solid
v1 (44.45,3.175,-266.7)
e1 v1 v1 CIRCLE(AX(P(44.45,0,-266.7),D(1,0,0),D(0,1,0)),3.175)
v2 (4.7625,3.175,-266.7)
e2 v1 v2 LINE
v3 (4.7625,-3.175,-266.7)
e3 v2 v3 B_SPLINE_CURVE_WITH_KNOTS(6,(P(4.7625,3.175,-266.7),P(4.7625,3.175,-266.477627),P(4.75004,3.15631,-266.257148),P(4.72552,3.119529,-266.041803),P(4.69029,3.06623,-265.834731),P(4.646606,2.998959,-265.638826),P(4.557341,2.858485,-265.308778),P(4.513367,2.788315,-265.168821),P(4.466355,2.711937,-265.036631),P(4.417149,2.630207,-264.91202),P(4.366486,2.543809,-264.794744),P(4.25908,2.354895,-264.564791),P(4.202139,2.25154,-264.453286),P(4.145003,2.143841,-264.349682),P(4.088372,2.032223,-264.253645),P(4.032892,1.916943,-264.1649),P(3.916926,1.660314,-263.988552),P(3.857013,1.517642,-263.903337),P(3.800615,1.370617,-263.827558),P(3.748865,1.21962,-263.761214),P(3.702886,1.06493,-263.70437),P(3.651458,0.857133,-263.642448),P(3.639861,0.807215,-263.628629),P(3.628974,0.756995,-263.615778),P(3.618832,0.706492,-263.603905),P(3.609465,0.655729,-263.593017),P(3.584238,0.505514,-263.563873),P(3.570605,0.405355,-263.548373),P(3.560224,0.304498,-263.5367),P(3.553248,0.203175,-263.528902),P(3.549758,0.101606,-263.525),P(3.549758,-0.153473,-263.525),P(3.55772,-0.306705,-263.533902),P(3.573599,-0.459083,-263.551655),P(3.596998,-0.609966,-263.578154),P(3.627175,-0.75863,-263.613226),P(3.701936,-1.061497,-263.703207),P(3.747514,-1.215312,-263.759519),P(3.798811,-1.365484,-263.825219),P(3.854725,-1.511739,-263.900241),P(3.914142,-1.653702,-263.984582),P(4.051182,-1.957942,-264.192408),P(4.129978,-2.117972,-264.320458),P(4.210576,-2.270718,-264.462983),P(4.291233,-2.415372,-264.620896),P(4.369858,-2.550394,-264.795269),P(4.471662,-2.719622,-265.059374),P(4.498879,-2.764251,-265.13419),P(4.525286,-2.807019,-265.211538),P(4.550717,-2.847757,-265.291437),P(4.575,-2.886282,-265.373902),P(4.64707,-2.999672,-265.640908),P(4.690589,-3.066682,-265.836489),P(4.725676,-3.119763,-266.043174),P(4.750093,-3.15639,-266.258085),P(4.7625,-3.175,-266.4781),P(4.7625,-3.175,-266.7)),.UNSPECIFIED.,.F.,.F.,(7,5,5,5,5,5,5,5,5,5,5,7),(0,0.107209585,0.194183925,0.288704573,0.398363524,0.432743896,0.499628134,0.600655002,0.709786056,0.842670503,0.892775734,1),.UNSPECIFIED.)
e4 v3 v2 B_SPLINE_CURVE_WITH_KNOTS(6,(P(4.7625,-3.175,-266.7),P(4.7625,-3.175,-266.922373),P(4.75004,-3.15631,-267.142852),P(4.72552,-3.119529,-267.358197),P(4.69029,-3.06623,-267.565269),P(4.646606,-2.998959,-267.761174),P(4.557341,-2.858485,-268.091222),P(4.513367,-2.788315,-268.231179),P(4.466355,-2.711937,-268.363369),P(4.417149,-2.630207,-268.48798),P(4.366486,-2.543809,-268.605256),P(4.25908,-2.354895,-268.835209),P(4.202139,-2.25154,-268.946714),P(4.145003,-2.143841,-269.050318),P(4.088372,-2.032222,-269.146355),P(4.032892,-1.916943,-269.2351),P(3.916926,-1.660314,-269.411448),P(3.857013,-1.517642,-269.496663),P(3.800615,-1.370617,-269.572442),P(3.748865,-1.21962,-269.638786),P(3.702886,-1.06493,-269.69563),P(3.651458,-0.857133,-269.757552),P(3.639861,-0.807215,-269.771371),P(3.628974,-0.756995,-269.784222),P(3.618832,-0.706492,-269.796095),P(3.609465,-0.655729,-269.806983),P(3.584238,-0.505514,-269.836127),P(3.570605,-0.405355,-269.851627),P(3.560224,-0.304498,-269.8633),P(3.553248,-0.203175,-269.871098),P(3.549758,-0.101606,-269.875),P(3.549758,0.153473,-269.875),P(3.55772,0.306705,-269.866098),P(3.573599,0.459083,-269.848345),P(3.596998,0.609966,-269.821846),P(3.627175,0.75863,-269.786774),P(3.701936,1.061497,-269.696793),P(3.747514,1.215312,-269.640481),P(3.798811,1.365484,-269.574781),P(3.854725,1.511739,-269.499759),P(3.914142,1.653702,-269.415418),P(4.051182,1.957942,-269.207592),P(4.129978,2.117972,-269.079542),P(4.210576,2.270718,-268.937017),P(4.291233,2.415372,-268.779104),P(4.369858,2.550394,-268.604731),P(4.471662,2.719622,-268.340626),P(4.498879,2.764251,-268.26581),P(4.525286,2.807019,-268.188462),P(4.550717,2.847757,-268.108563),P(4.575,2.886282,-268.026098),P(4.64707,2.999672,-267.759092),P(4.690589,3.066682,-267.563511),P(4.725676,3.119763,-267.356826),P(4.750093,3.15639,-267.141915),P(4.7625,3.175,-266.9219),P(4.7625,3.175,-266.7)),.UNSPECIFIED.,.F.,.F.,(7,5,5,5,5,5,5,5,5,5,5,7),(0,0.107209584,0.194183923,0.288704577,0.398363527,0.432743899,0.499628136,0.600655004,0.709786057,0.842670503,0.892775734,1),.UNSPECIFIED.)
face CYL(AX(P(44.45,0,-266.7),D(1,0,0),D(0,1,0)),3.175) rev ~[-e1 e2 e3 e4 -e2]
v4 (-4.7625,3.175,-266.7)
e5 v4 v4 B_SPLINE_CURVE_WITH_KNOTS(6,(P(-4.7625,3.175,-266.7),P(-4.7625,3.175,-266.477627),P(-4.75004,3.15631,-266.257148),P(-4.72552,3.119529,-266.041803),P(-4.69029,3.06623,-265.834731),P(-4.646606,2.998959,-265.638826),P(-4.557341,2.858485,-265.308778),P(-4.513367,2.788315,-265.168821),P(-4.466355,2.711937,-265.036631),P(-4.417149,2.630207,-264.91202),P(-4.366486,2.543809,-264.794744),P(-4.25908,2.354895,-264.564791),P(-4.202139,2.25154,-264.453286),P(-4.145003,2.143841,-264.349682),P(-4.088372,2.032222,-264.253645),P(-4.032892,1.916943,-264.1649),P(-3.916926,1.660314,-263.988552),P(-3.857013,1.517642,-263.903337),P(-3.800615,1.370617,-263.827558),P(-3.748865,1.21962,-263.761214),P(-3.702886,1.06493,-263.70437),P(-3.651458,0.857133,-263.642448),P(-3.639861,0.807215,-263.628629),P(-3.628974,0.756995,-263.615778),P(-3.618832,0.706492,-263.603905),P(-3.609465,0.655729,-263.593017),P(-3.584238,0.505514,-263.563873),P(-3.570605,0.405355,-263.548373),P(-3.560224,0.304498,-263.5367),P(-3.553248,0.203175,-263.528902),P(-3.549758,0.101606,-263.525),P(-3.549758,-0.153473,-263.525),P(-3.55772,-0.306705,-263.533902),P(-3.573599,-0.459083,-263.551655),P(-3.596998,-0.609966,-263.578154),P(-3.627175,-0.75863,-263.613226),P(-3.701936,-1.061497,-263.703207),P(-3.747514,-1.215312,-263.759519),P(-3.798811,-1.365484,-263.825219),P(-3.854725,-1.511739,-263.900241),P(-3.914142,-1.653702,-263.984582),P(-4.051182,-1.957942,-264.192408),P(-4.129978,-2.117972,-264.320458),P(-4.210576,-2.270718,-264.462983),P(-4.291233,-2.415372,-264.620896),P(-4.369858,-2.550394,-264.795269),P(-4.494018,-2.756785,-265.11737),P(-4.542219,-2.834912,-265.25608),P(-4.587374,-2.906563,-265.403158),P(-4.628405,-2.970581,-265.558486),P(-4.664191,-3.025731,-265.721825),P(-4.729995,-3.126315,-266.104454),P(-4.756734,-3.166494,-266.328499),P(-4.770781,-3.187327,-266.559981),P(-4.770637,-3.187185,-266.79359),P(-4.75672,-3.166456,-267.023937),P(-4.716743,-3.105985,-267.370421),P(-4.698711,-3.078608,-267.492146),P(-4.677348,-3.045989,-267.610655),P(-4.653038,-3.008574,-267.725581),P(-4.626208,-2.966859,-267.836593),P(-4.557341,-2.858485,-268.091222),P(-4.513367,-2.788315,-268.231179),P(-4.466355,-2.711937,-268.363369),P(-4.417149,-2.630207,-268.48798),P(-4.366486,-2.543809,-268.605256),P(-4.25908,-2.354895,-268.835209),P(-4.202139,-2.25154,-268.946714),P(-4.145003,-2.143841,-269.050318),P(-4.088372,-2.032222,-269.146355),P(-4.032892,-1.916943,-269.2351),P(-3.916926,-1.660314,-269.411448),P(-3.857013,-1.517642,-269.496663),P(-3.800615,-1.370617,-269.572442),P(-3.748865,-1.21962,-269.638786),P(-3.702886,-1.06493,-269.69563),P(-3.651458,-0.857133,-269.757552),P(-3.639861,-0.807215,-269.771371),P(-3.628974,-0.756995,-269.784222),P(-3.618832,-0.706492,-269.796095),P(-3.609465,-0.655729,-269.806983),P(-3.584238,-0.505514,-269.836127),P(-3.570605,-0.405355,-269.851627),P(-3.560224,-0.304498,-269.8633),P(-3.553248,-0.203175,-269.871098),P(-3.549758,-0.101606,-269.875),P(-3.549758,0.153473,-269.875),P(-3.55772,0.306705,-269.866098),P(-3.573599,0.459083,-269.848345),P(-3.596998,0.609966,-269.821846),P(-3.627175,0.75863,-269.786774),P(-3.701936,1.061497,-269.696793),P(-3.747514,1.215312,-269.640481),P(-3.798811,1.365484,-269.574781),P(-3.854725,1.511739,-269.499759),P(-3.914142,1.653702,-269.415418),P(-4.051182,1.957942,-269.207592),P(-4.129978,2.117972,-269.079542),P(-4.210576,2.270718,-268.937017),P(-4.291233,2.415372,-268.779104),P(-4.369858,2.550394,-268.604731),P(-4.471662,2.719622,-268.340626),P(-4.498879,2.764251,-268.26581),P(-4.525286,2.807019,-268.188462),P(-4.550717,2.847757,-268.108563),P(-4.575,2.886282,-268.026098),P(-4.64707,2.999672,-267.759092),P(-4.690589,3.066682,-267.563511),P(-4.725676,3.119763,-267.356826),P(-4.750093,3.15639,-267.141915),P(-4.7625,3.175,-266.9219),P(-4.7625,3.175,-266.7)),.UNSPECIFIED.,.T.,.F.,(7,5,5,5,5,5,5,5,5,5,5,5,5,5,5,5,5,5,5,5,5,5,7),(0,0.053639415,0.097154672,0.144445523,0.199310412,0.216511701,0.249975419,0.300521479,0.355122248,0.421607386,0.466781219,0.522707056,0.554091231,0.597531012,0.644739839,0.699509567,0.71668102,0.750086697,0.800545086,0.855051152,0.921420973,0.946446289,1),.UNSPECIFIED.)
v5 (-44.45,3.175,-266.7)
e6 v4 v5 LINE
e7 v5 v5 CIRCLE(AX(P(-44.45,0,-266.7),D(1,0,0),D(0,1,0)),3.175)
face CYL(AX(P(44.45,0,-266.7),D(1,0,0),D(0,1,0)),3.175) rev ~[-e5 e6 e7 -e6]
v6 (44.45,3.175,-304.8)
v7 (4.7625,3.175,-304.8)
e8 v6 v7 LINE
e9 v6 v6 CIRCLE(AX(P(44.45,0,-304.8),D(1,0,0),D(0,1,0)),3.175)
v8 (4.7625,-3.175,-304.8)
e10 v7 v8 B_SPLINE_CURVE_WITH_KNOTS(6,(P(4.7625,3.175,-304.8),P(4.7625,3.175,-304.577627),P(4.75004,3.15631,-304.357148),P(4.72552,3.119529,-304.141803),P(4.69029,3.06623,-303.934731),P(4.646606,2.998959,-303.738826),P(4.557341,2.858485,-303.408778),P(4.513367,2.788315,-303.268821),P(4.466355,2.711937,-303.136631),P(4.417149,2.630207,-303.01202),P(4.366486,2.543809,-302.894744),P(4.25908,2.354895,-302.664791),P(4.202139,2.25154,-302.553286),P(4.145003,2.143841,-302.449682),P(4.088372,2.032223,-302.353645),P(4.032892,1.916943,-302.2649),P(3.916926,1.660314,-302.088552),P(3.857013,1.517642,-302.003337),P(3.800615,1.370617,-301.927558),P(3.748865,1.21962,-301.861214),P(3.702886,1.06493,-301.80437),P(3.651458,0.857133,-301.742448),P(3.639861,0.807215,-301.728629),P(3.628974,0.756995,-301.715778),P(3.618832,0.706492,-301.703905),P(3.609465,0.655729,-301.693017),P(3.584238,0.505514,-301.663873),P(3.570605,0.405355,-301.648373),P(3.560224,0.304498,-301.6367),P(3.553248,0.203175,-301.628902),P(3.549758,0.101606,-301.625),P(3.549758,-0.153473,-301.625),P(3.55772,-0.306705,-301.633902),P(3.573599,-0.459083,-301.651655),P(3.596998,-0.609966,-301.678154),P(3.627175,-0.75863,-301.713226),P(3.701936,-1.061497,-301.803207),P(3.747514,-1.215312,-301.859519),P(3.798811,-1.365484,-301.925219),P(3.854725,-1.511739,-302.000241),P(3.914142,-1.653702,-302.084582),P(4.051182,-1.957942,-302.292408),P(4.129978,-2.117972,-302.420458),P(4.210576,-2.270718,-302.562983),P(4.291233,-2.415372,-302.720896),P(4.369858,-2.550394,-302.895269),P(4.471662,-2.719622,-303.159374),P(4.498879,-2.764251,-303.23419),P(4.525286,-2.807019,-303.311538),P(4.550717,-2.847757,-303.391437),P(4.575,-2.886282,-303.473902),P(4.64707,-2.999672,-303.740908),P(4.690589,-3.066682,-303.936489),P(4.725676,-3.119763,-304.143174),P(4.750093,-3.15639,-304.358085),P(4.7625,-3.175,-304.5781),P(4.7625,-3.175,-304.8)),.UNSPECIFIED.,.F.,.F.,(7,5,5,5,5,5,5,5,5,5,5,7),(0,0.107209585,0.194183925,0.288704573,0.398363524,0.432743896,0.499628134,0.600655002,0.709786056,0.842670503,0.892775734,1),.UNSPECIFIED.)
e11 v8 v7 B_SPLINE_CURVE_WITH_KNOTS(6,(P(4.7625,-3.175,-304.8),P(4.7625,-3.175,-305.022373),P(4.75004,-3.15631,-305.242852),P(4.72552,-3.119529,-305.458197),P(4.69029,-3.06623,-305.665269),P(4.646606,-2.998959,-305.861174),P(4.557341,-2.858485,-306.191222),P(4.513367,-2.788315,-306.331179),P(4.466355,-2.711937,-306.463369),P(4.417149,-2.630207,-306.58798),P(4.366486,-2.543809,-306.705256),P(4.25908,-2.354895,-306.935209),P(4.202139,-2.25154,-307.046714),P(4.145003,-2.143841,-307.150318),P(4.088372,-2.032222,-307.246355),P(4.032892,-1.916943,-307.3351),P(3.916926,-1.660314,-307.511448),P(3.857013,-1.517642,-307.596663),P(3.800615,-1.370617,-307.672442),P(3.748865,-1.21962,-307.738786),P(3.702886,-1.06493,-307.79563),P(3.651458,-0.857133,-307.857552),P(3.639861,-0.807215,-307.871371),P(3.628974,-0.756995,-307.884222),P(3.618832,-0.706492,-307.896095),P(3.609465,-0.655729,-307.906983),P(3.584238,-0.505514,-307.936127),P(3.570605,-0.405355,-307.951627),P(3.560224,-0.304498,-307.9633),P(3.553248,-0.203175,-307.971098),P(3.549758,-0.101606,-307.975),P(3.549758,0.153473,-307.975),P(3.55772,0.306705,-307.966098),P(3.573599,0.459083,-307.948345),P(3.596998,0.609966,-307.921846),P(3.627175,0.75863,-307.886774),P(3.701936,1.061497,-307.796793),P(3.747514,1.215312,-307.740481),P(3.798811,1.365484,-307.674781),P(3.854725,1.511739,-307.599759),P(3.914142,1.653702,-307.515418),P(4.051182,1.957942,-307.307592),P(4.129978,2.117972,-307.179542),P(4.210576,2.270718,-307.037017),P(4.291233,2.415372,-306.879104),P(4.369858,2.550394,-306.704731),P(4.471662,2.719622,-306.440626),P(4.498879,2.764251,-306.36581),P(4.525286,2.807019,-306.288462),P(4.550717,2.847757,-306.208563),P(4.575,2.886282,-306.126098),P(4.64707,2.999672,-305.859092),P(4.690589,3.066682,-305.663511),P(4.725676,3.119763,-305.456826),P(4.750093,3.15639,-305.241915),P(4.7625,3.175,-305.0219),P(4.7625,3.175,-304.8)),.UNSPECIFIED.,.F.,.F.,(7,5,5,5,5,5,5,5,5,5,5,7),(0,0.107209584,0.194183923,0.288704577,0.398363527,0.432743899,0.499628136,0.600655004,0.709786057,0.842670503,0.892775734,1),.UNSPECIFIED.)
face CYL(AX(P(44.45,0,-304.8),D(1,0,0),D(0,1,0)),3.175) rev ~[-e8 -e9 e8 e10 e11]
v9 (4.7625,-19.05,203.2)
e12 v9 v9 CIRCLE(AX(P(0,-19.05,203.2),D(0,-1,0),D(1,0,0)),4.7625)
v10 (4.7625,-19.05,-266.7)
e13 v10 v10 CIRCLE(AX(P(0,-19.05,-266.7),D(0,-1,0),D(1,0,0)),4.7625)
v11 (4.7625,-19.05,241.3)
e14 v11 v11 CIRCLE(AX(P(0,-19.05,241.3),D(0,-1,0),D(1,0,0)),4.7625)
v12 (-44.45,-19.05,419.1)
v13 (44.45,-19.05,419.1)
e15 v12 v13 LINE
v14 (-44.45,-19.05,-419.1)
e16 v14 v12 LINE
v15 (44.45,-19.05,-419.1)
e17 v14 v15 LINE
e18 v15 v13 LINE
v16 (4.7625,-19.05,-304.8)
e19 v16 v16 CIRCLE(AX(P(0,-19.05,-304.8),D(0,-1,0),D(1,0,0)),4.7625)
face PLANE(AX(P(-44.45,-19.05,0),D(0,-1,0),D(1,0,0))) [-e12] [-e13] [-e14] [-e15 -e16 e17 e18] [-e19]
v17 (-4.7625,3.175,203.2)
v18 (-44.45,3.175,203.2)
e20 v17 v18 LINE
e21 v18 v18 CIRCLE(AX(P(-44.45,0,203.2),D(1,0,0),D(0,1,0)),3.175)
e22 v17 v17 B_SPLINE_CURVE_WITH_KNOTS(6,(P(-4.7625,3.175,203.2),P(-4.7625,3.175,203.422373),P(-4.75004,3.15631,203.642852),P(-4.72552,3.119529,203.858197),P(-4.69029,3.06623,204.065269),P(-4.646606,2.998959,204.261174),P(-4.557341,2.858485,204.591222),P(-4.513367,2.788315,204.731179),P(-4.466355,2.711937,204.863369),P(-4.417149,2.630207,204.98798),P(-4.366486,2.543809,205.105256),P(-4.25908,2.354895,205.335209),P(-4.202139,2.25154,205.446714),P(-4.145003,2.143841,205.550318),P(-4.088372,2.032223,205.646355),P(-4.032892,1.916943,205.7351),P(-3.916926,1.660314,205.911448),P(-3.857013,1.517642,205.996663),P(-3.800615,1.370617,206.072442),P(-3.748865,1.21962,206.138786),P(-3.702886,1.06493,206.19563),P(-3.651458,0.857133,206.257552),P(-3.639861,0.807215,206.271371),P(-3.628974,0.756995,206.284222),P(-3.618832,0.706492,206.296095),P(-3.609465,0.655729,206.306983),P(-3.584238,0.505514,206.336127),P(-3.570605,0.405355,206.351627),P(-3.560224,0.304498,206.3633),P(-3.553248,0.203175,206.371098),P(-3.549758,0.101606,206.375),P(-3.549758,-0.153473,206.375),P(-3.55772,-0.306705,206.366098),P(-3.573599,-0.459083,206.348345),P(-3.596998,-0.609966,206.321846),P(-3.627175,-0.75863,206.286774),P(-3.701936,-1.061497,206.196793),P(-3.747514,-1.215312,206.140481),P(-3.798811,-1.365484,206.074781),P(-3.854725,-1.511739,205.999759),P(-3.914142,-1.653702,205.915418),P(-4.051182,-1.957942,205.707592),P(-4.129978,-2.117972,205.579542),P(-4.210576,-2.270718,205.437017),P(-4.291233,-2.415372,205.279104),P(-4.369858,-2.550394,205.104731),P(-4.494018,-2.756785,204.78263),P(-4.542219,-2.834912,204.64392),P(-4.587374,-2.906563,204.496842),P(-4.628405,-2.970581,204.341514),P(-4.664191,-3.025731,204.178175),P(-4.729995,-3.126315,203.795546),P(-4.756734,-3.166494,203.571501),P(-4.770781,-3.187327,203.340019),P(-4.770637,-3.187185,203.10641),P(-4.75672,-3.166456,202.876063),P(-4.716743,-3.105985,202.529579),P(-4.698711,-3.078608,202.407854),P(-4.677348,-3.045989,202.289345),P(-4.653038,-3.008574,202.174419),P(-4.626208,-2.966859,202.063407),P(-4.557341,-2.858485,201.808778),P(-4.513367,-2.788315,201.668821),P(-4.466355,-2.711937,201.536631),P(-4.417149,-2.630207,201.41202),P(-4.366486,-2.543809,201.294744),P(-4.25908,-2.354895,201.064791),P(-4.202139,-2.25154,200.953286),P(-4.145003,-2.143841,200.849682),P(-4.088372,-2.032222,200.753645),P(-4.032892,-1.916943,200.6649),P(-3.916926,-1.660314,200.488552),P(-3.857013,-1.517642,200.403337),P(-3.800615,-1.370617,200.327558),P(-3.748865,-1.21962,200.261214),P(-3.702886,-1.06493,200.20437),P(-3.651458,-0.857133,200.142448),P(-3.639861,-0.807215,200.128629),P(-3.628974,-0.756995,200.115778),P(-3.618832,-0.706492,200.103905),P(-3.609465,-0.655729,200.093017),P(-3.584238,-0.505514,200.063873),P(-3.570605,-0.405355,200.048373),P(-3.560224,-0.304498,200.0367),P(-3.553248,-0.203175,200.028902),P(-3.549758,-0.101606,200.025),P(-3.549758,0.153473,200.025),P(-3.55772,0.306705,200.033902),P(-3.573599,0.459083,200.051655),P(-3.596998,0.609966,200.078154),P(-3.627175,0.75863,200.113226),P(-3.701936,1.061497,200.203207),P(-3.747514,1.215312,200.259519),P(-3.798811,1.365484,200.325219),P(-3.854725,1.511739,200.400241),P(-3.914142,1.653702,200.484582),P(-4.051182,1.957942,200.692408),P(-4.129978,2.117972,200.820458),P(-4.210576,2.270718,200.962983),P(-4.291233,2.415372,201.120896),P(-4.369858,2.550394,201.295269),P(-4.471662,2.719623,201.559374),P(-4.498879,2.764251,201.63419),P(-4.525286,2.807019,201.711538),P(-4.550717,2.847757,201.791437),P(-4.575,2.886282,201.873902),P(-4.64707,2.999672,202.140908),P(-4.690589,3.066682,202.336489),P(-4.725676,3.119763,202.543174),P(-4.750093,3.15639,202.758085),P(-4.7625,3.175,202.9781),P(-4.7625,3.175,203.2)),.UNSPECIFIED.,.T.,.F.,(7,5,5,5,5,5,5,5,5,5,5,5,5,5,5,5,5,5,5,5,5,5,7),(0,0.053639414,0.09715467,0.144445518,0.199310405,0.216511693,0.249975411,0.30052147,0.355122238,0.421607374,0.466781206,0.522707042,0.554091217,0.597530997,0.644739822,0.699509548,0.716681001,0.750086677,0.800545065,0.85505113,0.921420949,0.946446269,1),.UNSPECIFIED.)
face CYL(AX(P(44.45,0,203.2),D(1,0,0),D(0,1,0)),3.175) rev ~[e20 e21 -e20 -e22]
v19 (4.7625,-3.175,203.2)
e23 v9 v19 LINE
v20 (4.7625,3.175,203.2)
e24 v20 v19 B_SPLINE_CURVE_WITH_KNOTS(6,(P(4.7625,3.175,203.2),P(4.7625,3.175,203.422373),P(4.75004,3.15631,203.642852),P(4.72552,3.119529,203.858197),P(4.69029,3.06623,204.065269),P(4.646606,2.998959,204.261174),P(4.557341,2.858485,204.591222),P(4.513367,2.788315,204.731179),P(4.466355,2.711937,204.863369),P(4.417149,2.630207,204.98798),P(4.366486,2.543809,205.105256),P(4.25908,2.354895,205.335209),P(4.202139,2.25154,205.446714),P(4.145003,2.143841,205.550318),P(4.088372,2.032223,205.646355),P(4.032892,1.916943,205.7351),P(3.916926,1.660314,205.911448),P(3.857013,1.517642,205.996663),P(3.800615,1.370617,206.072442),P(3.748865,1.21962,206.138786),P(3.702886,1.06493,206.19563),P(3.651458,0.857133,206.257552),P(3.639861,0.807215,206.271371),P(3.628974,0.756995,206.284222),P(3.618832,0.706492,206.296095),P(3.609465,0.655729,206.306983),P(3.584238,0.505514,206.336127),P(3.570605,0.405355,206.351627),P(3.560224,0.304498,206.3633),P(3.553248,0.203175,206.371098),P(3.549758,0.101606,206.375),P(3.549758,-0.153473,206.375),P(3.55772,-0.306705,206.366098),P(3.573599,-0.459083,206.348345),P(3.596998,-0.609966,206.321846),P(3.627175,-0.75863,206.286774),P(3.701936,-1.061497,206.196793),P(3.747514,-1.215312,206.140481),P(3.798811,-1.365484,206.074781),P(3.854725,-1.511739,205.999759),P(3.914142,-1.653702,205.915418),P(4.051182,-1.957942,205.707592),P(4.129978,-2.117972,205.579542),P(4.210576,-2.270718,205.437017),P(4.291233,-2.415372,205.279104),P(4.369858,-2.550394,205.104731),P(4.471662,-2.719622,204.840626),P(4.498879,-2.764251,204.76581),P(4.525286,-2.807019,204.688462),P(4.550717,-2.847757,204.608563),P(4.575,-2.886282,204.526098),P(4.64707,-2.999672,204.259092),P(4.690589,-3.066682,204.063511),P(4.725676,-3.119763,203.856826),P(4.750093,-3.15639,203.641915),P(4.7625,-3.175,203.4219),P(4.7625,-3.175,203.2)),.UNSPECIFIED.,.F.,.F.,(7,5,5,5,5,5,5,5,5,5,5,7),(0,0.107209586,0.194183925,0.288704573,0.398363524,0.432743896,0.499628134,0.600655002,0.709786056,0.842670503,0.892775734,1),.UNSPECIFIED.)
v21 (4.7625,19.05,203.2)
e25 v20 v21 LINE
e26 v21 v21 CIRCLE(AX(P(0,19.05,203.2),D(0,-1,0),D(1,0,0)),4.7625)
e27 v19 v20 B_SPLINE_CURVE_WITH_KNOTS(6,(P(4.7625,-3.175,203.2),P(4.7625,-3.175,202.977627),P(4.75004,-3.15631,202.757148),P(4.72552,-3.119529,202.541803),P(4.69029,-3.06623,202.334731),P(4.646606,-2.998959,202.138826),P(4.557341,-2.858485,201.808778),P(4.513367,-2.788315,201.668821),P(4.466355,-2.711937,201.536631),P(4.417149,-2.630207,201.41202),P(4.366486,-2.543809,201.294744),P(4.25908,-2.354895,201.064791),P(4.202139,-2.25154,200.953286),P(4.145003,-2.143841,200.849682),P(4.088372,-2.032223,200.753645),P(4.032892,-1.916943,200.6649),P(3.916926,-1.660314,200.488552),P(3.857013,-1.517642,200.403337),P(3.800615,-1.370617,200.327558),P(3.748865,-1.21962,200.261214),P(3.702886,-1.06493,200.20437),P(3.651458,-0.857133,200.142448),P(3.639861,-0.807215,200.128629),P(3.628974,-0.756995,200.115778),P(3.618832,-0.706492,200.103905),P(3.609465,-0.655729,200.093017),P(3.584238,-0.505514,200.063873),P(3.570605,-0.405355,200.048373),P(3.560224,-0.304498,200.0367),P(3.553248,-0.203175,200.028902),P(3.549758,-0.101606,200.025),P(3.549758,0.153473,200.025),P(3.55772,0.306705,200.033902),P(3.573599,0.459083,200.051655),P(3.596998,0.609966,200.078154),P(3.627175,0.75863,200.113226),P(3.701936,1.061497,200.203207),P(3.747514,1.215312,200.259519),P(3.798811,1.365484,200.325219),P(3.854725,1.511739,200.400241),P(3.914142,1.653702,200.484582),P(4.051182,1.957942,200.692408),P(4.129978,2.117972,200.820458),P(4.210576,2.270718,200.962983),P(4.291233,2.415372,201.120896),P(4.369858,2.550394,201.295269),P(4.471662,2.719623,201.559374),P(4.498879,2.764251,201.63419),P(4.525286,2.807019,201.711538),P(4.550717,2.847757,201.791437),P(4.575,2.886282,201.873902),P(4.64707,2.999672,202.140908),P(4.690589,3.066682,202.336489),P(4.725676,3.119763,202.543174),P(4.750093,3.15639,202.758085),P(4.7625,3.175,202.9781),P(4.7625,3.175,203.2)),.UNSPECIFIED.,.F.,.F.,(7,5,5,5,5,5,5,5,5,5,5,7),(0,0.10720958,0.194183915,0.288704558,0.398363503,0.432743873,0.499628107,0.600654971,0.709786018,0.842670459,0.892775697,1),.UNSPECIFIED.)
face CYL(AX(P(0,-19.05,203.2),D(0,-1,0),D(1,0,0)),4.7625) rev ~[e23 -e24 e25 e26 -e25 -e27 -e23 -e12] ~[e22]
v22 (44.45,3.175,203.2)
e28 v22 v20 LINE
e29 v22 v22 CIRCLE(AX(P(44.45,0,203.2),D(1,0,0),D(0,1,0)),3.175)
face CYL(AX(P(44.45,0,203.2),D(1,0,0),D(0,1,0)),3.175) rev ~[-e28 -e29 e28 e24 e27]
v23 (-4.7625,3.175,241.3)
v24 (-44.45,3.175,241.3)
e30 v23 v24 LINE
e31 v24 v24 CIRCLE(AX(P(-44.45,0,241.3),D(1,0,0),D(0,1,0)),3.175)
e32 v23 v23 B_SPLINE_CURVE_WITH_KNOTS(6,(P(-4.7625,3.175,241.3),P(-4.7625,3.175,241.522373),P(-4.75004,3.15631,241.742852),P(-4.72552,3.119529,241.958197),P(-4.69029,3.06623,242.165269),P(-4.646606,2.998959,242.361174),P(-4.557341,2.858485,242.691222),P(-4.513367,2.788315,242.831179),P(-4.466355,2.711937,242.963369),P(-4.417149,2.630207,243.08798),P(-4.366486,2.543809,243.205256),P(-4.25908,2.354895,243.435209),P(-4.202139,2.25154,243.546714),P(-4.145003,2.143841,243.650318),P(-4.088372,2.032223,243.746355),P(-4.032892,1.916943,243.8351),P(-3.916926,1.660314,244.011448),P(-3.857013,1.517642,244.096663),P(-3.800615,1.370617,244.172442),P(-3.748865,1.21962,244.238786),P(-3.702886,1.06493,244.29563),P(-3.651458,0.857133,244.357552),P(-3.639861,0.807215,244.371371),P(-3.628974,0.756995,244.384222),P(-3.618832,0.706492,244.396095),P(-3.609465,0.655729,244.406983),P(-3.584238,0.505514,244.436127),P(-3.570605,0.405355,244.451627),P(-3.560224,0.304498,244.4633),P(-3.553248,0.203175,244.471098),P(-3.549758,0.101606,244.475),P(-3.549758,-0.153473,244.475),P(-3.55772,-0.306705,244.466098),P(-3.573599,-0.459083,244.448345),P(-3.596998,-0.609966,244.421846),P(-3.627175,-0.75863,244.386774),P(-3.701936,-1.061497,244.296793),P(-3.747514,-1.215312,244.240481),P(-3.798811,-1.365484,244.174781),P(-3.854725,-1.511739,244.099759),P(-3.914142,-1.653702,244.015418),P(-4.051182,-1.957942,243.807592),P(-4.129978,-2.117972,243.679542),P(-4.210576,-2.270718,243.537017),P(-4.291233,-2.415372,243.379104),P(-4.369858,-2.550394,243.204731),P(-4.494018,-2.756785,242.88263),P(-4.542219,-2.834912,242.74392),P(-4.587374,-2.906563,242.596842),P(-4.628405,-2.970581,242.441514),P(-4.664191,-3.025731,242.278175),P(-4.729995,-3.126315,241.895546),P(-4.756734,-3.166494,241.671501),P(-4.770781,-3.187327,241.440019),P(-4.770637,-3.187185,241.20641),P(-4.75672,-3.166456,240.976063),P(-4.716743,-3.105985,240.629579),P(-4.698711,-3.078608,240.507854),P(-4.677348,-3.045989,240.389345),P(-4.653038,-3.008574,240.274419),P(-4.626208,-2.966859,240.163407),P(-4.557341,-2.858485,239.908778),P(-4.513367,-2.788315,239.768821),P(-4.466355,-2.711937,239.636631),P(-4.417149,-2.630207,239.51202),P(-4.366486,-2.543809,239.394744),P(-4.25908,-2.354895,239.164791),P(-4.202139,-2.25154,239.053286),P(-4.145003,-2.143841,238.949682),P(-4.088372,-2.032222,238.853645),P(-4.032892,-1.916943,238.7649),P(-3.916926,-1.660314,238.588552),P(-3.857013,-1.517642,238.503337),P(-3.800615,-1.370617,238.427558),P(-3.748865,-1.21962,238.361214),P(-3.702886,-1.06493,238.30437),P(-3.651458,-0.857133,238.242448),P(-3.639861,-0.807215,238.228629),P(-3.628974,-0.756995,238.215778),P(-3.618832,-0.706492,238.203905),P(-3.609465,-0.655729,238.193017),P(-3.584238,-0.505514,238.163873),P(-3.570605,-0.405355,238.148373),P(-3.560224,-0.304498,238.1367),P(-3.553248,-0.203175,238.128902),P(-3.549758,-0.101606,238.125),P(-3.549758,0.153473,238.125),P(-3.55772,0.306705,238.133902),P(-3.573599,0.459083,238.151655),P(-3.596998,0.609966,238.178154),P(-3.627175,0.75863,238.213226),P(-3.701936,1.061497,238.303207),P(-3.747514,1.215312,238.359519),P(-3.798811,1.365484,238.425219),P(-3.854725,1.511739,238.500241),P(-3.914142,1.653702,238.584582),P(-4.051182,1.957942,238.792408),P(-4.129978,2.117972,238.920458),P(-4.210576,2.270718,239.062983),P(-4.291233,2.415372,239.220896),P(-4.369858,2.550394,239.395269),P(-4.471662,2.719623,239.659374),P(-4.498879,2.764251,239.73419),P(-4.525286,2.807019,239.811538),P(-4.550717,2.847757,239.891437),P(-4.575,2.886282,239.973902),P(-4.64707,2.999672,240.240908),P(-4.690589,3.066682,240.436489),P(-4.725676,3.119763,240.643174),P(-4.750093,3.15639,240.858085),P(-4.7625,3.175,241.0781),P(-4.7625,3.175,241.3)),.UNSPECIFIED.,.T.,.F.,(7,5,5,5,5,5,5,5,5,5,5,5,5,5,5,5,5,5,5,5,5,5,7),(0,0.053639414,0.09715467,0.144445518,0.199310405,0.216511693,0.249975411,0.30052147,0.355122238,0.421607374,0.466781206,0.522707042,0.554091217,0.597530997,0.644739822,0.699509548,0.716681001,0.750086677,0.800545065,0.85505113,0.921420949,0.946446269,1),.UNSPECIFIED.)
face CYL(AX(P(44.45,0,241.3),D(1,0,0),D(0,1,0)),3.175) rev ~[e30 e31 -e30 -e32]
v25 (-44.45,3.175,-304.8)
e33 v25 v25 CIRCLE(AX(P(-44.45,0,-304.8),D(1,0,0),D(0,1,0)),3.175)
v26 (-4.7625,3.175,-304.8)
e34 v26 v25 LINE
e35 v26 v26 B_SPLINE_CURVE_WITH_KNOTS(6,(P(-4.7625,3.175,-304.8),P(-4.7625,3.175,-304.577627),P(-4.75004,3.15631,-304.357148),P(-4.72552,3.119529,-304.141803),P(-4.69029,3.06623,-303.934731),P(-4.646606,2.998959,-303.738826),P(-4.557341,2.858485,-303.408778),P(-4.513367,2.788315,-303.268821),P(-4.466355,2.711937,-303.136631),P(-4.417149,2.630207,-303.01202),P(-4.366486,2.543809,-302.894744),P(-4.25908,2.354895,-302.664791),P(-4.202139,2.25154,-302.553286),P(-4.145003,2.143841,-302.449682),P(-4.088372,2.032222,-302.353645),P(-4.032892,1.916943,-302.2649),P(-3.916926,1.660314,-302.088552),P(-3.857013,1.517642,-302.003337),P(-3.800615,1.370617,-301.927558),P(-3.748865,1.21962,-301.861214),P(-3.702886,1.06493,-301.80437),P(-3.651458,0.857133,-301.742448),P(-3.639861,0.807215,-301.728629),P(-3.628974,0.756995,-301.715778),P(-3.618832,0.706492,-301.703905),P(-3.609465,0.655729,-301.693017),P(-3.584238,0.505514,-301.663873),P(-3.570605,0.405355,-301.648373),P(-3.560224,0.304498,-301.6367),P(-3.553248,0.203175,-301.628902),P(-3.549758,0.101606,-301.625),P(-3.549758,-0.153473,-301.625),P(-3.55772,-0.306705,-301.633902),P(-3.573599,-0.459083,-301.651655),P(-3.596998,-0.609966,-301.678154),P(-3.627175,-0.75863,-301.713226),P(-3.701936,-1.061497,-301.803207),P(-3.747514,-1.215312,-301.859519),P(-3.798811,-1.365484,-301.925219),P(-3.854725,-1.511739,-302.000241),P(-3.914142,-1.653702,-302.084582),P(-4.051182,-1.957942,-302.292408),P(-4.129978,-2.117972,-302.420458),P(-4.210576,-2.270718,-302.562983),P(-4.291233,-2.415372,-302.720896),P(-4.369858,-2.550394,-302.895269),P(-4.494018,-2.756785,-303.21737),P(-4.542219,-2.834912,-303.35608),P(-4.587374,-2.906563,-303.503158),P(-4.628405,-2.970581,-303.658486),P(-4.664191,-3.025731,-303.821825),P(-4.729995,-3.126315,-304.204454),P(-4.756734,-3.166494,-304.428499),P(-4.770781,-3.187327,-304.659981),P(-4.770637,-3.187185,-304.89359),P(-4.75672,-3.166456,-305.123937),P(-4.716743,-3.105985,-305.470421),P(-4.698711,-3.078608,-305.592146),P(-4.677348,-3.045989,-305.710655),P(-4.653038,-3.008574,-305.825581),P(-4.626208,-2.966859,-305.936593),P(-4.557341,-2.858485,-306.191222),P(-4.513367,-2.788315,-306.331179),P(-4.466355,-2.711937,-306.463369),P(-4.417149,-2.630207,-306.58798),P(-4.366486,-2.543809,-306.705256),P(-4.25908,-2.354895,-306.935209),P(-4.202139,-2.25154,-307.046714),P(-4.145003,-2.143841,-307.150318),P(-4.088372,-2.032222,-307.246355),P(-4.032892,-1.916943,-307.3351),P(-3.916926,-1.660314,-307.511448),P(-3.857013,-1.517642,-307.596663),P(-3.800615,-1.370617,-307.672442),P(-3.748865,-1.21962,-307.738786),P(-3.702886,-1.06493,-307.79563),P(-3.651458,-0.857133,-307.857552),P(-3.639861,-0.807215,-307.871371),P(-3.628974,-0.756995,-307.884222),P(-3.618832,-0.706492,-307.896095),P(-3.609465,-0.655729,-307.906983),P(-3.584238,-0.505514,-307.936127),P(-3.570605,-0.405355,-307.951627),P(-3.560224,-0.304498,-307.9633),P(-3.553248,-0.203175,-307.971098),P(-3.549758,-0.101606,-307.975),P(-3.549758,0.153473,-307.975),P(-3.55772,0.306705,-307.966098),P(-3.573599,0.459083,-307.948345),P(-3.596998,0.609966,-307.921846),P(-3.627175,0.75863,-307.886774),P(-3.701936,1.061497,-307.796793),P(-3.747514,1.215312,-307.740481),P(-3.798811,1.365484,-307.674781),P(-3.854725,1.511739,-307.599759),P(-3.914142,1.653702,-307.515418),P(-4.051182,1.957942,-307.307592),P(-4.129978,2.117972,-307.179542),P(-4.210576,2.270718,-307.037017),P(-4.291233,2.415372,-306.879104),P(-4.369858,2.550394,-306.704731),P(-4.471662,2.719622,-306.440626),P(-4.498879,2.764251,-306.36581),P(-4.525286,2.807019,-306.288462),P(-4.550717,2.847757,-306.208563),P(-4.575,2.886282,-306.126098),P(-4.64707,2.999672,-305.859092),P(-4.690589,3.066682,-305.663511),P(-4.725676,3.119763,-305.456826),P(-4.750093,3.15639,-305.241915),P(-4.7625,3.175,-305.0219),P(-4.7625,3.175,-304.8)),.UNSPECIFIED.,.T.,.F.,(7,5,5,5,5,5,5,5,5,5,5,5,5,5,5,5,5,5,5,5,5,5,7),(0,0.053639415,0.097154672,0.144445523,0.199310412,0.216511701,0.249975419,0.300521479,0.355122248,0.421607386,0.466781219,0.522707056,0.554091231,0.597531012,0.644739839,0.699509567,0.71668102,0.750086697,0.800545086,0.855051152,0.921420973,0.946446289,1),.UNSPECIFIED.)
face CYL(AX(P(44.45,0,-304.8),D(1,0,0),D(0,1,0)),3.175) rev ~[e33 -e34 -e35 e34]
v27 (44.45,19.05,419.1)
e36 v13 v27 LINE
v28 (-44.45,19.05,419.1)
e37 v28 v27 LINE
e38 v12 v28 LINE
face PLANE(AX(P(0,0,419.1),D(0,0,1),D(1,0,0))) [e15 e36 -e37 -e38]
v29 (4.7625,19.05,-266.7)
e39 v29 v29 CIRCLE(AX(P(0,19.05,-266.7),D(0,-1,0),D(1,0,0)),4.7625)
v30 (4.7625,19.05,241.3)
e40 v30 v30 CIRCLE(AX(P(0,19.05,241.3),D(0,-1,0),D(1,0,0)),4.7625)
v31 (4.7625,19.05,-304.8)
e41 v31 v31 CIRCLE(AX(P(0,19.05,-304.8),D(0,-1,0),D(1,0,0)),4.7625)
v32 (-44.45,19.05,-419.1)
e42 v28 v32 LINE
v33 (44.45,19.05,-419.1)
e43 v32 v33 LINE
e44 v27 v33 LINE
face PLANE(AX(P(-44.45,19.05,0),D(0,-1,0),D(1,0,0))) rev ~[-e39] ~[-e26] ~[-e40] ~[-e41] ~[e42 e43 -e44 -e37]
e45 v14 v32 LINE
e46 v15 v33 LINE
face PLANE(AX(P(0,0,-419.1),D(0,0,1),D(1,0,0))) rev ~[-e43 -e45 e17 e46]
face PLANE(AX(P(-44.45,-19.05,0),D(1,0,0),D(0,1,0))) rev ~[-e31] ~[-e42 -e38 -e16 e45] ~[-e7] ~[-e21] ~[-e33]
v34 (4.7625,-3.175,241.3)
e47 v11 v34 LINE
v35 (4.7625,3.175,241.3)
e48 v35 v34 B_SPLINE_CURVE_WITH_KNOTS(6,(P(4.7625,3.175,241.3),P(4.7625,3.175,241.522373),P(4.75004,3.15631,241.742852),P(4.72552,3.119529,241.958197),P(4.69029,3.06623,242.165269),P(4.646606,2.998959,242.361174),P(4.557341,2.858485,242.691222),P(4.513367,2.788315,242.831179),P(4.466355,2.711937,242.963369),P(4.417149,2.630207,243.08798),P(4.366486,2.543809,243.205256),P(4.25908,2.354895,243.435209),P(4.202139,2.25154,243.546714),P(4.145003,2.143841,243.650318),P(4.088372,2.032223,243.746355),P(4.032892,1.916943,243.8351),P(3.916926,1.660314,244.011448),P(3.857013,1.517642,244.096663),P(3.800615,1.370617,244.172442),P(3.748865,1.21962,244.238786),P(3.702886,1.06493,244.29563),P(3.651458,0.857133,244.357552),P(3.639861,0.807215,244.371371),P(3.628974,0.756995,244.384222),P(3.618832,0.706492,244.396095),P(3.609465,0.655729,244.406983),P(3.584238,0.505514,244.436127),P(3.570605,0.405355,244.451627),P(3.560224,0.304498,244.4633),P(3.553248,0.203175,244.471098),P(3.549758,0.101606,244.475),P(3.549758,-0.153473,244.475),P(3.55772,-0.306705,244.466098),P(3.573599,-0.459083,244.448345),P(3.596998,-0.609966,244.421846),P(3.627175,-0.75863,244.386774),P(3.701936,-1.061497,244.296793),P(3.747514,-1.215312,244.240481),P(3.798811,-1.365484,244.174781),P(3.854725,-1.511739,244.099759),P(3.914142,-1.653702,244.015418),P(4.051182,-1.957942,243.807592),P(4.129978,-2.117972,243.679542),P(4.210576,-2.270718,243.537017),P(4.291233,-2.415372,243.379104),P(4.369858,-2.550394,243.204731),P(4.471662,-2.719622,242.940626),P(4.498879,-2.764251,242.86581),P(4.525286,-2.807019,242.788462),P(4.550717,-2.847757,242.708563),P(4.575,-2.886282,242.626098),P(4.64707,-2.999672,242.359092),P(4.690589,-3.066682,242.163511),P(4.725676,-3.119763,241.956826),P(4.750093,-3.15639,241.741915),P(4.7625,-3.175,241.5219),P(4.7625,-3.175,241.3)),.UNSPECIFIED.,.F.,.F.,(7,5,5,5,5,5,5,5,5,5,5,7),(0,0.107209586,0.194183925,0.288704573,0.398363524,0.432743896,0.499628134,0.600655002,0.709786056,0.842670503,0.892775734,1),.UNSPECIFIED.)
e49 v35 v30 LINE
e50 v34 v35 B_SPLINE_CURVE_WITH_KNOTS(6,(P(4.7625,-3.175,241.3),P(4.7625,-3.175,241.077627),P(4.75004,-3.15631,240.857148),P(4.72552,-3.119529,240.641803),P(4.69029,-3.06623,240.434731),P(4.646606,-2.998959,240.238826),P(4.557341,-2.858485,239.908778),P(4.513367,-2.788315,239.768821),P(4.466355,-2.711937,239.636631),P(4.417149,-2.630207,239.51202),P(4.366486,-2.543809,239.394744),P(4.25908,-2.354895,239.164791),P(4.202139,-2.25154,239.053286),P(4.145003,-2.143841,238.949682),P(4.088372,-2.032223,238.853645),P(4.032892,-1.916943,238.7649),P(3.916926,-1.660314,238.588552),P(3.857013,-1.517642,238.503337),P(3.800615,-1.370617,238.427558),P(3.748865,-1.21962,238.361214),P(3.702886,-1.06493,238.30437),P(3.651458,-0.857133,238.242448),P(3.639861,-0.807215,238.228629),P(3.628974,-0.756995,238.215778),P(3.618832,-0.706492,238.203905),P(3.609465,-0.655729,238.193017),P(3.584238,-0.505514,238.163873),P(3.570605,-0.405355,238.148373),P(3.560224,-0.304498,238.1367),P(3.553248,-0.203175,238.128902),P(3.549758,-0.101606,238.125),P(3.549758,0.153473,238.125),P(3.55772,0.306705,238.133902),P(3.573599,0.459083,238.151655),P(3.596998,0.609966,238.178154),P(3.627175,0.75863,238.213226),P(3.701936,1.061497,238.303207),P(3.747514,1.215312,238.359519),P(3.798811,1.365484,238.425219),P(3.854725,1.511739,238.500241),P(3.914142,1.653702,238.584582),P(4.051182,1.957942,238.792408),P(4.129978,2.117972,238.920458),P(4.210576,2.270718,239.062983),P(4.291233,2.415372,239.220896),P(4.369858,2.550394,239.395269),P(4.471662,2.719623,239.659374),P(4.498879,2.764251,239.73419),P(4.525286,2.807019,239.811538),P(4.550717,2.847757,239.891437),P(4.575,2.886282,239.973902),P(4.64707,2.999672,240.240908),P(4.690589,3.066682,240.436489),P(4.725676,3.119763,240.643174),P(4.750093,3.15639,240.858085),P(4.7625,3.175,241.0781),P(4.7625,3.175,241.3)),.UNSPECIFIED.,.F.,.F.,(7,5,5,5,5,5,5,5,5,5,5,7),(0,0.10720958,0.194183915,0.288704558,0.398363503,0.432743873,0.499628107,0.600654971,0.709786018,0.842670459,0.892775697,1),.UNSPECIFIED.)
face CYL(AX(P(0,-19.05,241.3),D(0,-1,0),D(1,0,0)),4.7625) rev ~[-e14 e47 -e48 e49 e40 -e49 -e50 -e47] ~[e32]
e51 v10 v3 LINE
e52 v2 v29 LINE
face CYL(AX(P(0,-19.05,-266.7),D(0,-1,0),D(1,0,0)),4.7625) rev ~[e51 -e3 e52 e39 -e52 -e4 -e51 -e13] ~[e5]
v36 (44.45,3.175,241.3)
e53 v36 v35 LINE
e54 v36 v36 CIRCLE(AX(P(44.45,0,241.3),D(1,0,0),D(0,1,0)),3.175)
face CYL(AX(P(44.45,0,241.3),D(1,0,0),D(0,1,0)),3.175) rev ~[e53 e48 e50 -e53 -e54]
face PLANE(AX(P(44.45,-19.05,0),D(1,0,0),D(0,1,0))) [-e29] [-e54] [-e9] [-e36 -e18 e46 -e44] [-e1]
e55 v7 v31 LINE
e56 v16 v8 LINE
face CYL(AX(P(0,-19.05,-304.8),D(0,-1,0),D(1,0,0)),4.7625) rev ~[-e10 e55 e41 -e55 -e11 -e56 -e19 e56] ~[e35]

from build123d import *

# Parameters (mm, degrees)
F0_W     = 88.9
F0_H     = 38.1
F1_DEPTH = 419.1
F2_R     = 4.7625
F3_DEPTH = 38.101
F4_R     = 3.175
F5_DEPTH = 88.901


with BuildPart() as f1:
    # F0 (on Top) → F1 (new body, symmetric)
    with BuildSketch(Plane.XY):
        Rectangle(F0_W, F0_H)
    extrude(amount=F1_DEPTH, both=True)

    # F2 (on face) → F3 (cut, through all)
    with BuildSketch(Plane.XZ.offset(19.05)):
        with Locations((0, 241.3)):
            Circle(F2_R)
        with Locations((0, 203.2)):
            Circle(F2_R)
        with Locations((0, -266.7)):
            Circle(F2_R)
        with Locations((0, -304.8)):
            Circle(F2_R)
    extrude(amount=-F3_DEPTH, mode=Mode.SUBTRACT)

    # F4 (on face) → F5 (cut, through all)
    with BuildSketch(Plane.YZ.offset(44.45)):
        with Locations((0, 241.3)):
            Circle(F4_R)
        with Locations((0, 203.2)):
            Circle(F4_R)
        with Locations((0, -304.8)):
            Circle(F4_R)
        with Locations((0, -266.7)):
            Circle(F4_R)
    extrude(amount=-F5_DEPTH, mode=Mode.SUBTRACT)


solid = f1.part
